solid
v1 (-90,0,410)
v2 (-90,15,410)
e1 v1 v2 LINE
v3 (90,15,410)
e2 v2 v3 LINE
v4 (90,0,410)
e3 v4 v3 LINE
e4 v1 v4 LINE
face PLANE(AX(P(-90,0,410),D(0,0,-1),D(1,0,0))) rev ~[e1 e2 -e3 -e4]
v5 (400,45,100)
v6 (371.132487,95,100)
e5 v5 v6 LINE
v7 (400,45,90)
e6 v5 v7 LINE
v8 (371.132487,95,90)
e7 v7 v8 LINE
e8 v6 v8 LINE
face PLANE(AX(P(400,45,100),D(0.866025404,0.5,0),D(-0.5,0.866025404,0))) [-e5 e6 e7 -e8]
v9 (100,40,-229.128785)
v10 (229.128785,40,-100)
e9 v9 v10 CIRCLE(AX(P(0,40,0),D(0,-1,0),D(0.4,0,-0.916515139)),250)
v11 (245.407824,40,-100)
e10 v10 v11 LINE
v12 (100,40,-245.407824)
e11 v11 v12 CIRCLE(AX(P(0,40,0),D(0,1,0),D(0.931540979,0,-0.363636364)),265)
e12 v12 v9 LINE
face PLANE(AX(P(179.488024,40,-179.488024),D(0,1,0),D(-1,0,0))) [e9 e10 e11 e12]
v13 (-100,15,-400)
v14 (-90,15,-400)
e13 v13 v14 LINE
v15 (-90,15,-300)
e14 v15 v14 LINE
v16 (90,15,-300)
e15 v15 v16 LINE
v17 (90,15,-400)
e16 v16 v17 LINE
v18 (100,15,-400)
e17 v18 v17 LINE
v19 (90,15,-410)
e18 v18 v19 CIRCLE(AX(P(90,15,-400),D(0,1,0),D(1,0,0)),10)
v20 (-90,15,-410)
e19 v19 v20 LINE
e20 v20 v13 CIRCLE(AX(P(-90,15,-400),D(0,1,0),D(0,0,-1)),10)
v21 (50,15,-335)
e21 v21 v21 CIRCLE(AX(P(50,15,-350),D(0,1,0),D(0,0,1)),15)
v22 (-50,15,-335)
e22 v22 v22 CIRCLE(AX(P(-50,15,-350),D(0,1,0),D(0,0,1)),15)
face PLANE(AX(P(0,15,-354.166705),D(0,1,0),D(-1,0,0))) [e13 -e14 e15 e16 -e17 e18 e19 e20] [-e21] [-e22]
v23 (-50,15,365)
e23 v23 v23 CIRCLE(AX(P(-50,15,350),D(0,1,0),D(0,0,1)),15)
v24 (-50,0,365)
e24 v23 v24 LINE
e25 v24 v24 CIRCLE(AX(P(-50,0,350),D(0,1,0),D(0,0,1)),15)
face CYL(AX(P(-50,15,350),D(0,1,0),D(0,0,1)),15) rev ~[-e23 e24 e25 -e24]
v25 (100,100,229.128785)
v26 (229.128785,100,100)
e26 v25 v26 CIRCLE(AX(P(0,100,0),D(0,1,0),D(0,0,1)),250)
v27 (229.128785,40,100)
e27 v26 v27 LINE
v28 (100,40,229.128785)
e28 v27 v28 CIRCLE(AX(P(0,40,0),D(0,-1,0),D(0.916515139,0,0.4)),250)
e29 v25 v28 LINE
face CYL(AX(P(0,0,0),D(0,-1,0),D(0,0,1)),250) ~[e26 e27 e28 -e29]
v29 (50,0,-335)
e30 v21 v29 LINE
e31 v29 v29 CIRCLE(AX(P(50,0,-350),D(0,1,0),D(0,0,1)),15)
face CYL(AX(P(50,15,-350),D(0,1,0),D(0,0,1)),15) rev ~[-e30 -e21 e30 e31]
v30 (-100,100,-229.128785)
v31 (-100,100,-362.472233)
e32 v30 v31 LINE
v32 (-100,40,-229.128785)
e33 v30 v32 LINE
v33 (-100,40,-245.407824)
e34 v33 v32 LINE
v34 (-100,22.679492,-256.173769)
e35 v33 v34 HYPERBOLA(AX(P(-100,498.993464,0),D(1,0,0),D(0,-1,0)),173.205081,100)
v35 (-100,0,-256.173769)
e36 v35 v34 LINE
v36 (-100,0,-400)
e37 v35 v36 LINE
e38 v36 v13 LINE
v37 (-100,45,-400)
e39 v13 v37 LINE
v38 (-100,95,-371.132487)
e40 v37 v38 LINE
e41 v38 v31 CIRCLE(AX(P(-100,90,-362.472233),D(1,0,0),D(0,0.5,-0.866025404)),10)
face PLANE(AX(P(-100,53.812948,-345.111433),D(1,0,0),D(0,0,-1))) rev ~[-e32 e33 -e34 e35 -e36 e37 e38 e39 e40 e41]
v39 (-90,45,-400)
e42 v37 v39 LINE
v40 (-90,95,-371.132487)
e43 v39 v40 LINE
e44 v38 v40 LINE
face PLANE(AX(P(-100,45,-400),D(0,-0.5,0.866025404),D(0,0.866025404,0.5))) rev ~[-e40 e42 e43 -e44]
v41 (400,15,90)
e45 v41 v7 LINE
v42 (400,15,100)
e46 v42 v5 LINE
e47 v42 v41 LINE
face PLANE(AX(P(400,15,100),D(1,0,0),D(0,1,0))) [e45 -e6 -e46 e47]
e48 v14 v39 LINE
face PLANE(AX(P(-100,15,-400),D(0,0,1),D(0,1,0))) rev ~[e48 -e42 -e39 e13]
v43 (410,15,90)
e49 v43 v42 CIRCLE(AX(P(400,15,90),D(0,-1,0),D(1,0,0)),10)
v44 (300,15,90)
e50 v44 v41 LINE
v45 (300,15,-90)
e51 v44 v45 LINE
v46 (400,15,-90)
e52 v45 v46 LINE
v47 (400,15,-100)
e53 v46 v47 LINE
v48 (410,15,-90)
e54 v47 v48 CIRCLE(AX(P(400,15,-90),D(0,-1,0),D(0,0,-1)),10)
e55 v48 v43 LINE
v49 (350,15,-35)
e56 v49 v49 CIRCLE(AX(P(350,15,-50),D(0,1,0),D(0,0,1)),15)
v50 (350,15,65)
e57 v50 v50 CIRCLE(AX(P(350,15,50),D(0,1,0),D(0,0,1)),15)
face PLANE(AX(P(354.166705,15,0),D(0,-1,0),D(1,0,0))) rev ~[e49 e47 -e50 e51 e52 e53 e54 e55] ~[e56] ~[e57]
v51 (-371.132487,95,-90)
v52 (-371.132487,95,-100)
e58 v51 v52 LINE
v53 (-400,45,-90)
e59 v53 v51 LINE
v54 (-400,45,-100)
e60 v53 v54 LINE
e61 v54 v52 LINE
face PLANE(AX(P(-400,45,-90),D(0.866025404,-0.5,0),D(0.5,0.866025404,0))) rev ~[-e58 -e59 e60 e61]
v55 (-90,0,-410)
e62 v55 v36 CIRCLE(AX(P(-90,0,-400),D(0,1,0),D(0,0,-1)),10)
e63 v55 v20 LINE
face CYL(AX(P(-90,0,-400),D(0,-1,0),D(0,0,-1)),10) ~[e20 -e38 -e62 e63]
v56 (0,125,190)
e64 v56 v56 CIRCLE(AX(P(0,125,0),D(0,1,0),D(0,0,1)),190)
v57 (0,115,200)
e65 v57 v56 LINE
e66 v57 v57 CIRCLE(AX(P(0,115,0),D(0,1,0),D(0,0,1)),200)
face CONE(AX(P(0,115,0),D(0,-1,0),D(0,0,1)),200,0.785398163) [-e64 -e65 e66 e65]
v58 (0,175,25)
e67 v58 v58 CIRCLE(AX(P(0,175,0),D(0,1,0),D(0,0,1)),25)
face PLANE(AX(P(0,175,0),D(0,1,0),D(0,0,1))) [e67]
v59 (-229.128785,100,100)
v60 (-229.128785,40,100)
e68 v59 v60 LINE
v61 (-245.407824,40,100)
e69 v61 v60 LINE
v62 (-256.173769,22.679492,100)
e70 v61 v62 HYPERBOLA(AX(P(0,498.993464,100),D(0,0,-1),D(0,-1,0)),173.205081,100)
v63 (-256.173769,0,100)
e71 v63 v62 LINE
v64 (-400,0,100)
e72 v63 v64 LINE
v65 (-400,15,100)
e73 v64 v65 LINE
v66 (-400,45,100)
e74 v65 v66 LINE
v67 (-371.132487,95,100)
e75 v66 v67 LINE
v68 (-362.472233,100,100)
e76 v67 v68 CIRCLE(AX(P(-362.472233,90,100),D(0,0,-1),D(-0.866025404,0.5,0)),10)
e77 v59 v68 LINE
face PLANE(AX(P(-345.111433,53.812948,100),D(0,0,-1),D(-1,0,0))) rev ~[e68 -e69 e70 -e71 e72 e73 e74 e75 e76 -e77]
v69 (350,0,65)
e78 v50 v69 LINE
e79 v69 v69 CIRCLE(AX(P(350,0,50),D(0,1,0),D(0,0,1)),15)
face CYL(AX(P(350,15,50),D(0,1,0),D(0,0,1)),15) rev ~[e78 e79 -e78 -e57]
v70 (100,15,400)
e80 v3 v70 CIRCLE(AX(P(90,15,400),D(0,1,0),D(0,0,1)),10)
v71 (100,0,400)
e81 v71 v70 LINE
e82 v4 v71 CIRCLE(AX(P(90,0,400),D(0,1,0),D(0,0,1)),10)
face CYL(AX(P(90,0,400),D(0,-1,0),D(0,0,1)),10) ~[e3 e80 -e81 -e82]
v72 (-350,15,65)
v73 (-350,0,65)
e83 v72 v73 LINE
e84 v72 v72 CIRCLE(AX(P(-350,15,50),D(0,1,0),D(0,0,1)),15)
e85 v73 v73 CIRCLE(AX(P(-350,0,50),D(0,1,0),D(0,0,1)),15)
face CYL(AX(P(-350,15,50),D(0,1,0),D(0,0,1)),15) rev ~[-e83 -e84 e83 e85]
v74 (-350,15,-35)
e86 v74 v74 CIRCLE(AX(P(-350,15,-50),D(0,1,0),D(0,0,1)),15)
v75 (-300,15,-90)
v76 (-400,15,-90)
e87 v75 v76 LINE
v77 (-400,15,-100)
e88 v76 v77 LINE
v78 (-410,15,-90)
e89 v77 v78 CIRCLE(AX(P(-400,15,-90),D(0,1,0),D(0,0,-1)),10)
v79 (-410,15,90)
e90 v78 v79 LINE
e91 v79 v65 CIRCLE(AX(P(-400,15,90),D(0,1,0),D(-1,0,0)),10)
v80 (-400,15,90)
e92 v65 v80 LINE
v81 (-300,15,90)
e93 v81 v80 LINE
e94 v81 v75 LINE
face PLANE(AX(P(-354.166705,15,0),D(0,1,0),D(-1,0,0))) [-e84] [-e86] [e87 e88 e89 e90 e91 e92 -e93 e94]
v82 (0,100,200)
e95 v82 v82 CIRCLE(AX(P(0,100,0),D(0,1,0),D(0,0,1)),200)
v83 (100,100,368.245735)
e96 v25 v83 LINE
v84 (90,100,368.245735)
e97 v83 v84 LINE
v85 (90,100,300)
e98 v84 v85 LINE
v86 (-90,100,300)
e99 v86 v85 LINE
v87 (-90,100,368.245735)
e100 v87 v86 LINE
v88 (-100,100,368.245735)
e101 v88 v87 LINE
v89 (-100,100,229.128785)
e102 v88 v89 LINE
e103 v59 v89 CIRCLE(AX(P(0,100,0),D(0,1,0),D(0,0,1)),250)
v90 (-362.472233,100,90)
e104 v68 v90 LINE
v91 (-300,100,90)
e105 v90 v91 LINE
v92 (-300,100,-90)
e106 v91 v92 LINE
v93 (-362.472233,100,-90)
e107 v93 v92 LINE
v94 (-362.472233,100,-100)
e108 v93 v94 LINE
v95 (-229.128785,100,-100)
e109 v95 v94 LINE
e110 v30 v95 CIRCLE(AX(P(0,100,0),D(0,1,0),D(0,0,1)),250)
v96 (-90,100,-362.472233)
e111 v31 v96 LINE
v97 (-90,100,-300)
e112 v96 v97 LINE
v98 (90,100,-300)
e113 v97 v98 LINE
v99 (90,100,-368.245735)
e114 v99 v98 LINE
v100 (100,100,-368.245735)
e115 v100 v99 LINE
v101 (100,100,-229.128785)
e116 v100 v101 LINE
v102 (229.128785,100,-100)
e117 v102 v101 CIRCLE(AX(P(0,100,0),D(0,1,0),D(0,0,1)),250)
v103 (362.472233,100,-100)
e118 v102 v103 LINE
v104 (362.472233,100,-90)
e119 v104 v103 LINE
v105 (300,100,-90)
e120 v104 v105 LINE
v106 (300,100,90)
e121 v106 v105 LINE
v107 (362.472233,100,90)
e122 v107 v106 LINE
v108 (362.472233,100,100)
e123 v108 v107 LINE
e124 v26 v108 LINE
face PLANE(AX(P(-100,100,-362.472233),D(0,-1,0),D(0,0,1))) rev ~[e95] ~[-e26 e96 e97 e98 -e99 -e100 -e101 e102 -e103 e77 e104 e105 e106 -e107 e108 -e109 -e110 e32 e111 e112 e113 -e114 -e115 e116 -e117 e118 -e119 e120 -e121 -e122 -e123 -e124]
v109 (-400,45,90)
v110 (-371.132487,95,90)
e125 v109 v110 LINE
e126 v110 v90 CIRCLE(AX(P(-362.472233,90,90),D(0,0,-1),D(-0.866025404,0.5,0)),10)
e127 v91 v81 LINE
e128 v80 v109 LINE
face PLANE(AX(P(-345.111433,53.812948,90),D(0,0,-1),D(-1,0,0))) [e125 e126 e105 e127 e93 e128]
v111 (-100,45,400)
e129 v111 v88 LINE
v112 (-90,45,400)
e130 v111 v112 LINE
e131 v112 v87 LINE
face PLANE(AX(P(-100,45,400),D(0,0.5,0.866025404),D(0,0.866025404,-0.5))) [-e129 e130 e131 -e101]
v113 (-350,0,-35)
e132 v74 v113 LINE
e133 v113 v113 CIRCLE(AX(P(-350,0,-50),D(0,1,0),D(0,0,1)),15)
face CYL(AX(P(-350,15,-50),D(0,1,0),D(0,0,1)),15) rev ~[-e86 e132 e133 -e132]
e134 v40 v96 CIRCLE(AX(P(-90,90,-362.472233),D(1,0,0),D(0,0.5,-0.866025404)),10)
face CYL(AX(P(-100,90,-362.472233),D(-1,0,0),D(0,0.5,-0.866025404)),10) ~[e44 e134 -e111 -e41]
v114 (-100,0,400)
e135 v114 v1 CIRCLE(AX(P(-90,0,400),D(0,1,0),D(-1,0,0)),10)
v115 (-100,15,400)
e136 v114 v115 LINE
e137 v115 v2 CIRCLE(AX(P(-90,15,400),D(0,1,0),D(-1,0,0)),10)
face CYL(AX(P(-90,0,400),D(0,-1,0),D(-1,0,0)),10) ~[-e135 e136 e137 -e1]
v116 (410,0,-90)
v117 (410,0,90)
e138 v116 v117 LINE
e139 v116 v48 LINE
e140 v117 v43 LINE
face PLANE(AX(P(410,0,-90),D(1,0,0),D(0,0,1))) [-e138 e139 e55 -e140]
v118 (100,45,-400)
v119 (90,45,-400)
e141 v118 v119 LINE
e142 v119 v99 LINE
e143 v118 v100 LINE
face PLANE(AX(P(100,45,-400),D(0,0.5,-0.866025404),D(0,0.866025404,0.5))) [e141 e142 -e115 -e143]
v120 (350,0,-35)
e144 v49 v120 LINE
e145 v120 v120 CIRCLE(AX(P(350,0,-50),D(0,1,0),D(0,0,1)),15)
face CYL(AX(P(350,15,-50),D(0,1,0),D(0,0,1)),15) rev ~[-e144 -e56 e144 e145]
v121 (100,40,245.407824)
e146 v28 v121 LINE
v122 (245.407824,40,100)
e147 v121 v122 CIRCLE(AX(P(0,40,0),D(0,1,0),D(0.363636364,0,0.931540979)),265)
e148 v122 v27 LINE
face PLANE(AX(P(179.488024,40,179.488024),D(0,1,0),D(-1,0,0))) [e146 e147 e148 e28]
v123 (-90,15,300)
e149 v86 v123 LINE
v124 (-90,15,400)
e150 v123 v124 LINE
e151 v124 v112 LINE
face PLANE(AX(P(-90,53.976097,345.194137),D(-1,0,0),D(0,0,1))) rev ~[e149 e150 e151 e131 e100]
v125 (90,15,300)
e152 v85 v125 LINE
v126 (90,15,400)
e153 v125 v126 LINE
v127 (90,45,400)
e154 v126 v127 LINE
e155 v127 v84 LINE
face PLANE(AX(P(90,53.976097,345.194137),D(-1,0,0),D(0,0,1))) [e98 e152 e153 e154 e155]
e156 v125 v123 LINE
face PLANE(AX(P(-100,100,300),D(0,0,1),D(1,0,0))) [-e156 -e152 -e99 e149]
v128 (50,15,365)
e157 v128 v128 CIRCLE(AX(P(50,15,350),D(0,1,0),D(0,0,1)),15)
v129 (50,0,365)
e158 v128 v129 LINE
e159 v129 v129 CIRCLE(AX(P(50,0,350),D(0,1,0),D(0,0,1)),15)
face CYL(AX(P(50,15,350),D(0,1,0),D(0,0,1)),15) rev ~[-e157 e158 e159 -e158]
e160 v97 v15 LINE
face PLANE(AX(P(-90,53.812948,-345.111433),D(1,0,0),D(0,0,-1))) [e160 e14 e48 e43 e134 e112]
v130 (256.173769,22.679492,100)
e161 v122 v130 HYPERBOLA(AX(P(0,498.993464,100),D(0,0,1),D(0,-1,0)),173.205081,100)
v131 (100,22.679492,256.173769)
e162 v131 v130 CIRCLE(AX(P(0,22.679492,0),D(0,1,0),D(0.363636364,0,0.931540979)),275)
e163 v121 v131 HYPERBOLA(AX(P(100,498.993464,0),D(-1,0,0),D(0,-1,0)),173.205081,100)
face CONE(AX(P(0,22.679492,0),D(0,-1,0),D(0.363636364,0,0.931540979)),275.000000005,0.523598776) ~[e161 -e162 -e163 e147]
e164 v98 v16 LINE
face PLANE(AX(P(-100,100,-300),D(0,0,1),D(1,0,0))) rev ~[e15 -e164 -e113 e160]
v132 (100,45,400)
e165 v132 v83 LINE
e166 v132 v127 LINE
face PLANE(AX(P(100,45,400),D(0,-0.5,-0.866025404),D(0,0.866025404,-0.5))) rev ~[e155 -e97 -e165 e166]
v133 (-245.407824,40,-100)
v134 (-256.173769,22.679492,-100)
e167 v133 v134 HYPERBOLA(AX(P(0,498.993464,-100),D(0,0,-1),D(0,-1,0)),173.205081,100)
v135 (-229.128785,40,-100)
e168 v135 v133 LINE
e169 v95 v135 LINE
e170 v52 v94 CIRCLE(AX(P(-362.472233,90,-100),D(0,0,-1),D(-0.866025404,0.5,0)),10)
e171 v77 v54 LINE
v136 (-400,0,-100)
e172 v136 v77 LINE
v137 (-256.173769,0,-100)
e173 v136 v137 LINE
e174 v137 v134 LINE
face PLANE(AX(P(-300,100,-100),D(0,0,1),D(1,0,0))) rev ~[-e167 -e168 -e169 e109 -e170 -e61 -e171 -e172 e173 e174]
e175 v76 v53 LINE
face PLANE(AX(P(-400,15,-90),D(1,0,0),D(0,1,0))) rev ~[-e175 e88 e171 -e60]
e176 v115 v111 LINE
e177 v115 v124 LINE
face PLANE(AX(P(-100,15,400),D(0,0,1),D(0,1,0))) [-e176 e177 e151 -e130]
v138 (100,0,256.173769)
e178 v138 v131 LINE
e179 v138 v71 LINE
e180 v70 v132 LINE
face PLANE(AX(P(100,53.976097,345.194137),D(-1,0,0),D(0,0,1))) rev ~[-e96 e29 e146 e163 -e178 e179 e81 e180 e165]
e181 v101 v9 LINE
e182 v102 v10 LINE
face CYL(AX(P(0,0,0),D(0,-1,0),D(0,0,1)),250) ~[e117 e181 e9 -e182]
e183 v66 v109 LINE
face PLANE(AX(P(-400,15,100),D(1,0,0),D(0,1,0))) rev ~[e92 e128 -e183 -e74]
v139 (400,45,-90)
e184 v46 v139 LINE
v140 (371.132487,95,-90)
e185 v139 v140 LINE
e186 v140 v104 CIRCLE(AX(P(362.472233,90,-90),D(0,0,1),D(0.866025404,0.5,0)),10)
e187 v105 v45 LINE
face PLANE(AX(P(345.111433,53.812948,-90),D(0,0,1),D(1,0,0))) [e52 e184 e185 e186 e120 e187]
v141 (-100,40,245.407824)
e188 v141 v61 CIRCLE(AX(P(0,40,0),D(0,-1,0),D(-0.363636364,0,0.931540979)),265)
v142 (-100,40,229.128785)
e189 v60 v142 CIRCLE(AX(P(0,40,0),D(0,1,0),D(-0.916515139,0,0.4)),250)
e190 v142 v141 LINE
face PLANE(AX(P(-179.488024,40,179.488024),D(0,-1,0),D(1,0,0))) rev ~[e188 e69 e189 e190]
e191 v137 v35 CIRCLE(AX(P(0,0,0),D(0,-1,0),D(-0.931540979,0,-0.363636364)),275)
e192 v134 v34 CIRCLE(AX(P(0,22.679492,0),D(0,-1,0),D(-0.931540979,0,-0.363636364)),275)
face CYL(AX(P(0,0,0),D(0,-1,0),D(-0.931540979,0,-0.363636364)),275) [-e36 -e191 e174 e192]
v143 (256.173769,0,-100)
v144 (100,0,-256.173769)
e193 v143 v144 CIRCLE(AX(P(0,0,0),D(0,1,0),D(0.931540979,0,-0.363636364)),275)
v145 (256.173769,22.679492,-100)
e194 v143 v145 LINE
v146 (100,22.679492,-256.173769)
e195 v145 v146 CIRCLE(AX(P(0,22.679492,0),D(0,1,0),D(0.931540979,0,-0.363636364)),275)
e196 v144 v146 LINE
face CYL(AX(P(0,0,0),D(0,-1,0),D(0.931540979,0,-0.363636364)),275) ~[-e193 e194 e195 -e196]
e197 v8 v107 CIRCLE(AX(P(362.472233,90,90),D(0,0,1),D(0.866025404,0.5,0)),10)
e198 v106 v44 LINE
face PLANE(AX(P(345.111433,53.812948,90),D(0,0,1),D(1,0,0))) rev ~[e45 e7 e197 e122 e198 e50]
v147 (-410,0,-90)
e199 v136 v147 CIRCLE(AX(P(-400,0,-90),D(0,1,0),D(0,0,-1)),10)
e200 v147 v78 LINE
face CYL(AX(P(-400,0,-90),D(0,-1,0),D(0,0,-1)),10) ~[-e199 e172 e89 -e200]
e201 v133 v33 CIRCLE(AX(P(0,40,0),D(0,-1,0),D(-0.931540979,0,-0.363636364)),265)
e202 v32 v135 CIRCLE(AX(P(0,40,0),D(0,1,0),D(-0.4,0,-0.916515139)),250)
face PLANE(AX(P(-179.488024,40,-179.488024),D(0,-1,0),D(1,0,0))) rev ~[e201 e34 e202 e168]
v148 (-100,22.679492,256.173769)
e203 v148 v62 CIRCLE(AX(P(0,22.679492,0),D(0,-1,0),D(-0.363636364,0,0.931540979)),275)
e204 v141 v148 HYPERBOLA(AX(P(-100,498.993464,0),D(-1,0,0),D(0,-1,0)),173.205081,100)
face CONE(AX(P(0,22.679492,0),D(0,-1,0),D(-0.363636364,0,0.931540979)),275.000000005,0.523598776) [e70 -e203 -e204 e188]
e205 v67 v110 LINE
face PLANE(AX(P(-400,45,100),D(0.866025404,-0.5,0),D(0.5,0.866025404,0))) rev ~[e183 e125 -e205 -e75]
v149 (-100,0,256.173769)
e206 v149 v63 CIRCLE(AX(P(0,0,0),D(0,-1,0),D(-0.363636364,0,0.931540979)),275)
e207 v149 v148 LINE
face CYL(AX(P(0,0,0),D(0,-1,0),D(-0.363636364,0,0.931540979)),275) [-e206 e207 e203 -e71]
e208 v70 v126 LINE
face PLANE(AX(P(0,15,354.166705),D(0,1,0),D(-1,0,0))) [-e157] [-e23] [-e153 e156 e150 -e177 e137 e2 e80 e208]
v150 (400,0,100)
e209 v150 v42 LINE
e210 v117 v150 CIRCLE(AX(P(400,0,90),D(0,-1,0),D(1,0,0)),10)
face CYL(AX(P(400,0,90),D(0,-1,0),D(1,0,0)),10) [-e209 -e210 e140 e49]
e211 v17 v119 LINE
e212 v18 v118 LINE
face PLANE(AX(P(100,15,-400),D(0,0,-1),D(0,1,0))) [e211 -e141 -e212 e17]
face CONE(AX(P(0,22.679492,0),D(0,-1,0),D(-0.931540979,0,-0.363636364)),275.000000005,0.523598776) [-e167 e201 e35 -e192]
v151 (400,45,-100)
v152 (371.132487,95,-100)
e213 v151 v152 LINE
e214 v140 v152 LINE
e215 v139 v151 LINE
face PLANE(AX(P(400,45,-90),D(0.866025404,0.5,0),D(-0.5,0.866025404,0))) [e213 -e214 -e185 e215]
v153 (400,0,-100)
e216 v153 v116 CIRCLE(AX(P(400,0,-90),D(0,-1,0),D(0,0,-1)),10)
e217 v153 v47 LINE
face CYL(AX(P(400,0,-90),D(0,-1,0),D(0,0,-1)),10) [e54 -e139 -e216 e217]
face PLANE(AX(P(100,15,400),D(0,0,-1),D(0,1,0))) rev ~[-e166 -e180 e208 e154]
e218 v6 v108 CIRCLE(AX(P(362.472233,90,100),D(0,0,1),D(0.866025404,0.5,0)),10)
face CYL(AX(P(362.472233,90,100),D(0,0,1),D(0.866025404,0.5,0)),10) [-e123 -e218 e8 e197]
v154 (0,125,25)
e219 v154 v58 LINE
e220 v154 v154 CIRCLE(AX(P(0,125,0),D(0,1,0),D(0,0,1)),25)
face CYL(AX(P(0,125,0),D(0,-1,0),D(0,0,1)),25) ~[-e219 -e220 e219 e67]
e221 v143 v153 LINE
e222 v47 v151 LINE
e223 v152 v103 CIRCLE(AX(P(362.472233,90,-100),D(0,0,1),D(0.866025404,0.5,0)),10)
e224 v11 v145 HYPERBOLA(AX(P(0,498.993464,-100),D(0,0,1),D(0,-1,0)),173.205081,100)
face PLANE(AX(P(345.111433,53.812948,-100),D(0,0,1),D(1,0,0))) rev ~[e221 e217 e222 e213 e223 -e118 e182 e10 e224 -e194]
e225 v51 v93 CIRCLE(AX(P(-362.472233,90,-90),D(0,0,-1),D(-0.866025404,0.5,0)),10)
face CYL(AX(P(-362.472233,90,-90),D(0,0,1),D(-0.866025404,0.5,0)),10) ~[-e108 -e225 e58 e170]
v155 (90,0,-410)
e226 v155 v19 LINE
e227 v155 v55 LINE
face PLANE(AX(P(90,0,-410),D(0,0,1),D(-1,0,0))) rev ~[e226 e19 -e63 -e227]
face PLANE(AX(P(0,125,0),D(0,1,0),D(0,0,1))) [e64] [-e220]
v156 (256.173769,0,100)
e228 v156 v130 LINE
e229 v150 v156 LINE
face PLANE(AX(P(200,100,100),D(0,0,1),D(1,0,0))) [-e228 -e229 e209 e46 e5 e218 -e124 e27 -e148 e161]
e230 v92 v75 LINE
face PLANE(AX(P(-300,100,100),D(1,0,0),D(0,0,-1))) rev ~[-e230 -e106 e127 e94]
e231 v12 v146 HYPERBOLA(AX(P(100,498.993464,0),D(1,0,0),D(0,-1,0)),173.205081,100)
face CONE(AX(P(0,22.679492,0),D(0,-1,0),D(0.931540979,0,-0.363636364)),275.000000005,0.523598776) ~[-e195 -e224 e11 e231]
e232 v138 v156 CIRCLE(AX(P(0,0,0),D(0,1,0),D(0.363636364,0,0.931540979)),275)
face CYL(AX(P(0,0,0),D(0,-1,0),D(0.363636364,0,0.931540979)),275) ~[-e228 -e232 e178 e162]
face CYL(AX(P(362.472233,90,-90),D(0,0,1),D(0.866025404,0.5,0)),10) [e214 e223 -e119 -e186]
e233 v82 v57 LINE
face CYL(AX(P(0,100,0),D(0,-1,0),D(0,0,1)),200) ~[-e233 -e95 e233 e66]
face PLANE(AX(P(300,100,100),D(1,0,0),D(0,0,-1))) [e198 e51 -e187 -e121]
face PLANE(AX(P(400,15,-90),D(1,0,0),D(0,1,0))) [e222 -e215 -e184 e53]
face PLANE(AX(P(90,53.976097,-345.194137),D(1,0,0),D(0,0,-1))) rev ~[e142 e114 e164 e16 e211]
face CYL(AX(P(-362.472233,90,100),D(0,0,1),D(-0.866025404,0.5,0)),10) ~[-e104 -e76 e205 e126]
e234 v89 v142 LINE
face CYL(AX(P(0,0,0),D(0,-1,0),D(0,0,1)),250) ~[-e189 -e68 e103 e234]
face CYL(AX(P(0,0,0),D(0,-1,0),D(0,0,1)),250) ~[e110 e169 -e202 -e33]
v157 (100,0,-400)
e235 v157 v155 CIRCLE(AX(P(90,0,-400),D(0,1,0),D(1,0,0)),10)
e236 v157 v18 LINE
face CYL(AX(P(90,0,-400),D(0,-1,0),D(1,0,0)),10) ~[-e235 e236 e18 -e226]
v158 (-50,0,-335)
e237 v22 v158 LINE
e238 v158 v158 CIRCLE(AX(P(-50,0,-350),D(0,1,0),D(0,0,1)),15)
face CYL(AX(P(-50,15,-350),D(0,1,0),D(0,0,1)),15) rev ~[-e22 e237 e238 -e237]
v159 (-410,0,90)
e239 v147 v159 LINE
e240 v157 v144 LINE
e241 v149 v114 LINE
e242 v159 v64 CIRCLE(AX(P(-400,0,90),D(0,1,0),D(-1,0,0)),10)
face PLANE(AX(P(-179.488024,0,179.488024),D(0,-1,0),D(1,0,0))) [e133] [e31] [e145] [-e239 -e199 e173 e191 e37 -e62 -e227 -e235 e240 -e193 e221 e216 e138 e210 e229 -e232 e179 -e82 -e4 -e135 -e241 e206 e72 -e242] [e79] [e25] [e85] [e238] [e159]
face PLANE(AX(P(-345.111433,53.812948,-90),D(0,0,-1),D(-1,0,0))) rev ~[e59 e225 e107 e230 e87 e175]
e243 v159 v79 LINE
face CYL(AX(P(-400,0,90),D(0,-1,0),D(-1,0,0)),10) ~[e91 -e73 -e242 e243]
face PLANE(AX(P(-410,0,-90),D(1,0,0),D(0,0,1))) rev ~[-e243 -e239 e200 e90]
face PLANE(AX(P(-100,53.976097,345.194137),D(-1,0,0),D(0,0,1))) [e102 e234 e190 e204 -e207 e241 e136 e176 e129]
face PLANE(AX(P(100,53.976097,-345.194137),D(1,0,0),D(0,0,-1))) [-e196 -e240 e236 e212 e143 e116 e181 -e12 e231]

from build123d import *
from OCP.BRepFilletAPI import BRepFilletAPI_MakeChamfer

# Parameters (mm, degrees)
SKETCH5_R            = 250
BOSS_EXTRUDE4_DEPTH  = 100
SKETCH6_W            = 200
SKETCH6_H            = 100
SKETCH6_W_2          = 100
SKETCH6_H_2          = 200
BOSS_EXTRUDE5_DEPTH  = 100
BOSS_EXTRUDE6_DEPTH  = 15
BOSS_EXTRUDE7_DEPTH  = 10
BOSS_EXTRUDE8_DEPTH  = 10
SKETCH18_R           = 15
CUT_EXTRUDE2_DEPTH   = 587.024743505
BOSS_EXTRUDE9_DEPTH  = 10
BOSS_EXTRUDE10_START = -10
BOSS_EXTRUDE10_DEPTH = 10
BOSS_EXTRUDE11_DEPTH = 10
BOSS_EXTRUDE12_DEPTH = 10
SKETCH24_R           = 200
BOSS_EXTRUDE13_DEPTH = 25
SKETCH25_R           = 25
BOSS_EXTRUDE14_DEPTH = 50
BOSS_EXTRUDE15_DEPTH = 40
CHAMFER1_SIZE        = 10
CHAMFER1_SIZE2       = 17.320508076
CHAMFER2_SIZE        = 10


with BuildPart() as part:
    # Sketch5 → Boss-Extrude4 (new body)
    with BuildSketch(Plane(origin=(0, 0, 0), x_dir=(1, 0, 0), z_dir=(0, 1, 0))):
        with Locations(Location((0, 0, 0), (0, 0, 270))):
            Circle(SKETCH5_R)
    extrude(amount=BOSS_EXTRUDE4_DEPTH)

    # Sketch6 → Boss-Extrude5 (add)
    with BuildSketch(Plane(origin=(0, 100, 0), x_dir=(1, 0, 0), z_dir=(0, 1, 0))):
        with Locations((0, -250)):
            Rectangle(SKETCH6_W, SKETCH6_H)
        with Locations((0, 250)):
            Rectangle(SKETCH6_W, SKETCH6_H)
        with Locations((250, 0)):
            Rectangle(SKETCH6_W_2, SKETCH6_H_2)
        with Locations((-250, 0)):
            Rectangle(SKETCH6_W_2, SKETCH6_H_2)
    extrude(amount=-BOSS_EXTRUDE5_DEPTH)

    # Sketch10 → Boss-Extrude6 (add)
    with BuildSketch(Plane.XZ):
        with BuildLine():
            Line((-100, 300), (-100, 400))
            ThreePointArc((-100, 400), (-97.071067812, 407.071067812), (-90, 410))
            Line((-90, 410), (90, 410))
            ThreePointArc((90, 410), (97.071067812, 407.071067812), (100, 400))
            Line((100, 400), (100, 300))
            Line((100, 300), (-100, 300))
        make_face()
        with BuildLine():
            Line((100, -310), (100, -400))
            ThreePointArc((100, -400), (97.071067812, -407.071067812), (90, -410))
            Line((90, -410), (-90, -410))
            ThreePointArc((-90, -410), (-97.071067812, -407.071067812), (-100, -400))
            Line((-100, -400), (-100, -300))
            Line((-100, -300), (90, -300))
            Line((90, -300), (100, -300))
            Line((100, -300), (100, -310))
        make_face()
        with BuildLine():
            Line((-300, -100), (-400, -100))
            ThreePointArc((-400, -100), (-407.071067812, -97.071067812), (-410, -90))
            Line((-410, -90), (-410, 90))
            ThreePointArc((-410, 90), (-407.071067812, 97.071067812), (-400, 100))
            Line((-400, 100), (-300, 100))
            Line((-300, 100), (-300, -100))
        make_face()
        with BuildLine():
            Line((300, -100), (400, -100))
            ThreePointArc((400, -100), (407.071067812, -97.071067812), (410, -90))
            Line((410, -90), (410, 90))
            ThreePointArc((410, 90), (407.071067812, 97.071067812), (400, 100))
            Line((400, 100), (300, 100))
            Line((300, 100), (300, -100))
        make_face()
    extrude(amount=-BOSS_EXTRUDE6_DEPTH)

    # Sketch12 → Boss-Extrude7 (add)
    with BuildSketch(Plane(origin=(100, 0, 0), x_dir=(0, 0, -1), z_dir=(1, 0, 0))):
        Polygon((-400, 15), (-400, 45), (-368.245735195, 100), (-300, 100), (-300, 15), align=None)
    extrude(amount=-BOSS_EXTRUDE7_DEPTH)

    # Sketch13 → Boss-Extrude8 (add)
    with BuildSketch(Plane.ZY.offset(100)):
        Polygon((300, 100), (300, 15), (400, 15), (400, 45), (368.245735195, 100), align=None)
    extrude(amount=-BOSS_EXTRUDE8_DEPTH)

    # Sketch18 → Cut-Extrude2 (cut, through all)
    with BuildSketch(Plane(origin=(0, 15, 0), x_dir=(1, 0, 0), z_dir=(0, 1, 0))):
        with Locations(Location((-50, -350, 0), (0, 0, 270))):
            Circle(SKETCH18_R)
        with Locations(Location((50, -350, 0), (0, 0, 270))):
            Circle(SKETCH18_R)
        with Locations(Location((-350, 50, 0), (0, 0, 270))):
            Circle(SKETCH18_R)
        with Locations(Location((-350, -50, 0), (0, 0, 270))):
            Circle(SKETCH18_R)
        with Locations(Location((-50, 350, 0), (0, 0, 270))):
            Circle(SKETCH18_R)
        with Locations(Location((50, 350, 0), (0, 0, 270))):
            Circle(SKETCH18_R)
        with Locations(Location((350, 50, 0), (0, 0, 270))):
            Circle(SKETCH18_R)
        with Locations(Location((350, -50, 0), (0, 0, 270))):
            Circle(SKETCH18_R)
    extrude(amount=-CUT_EXTRUDE2_DEPTH, mode=Mode.SUBTRACT)

    # Sketch19 → Boss-Extrude9 (add)
    with BuildSketch(Plane.XY.offset(100)):
        with BuildLine():
            Line((-400, 15), (-400, 45))
            Line((-400, 45), (-371.132486541, 95))
            ThreePointArc((-371.132486541, 95), (-367.472232503, 98.660254038), (-362.472232503, 100))
            Line((-362.472232503, 100), (-300, 100))
            Line((-300, 100), (-300, 15))
            Line((-300, 15), (-400, 15))
        make_face()
        with BuildLine():
            Line((400, 15), (400, 45))
            Line((400, 45), (371.132486541, 95))
            ThreePointArc((371.132486541, 95), (367.472232503, 98.660254038), (362.472232503, 100))
            Line((362.472232503, 100), (300, 100))
            Line((300, 100), (300, 15))
            Line((300, 15), (400, 15))
        make_face()
    extrude(amount=-BOSS_EXTRUDE9_DEPTH)

    # Sketch20 → Boss-Extrude10 (add)
    with BuildSketch(Plane(origin=(0, 0, -100), x_dir=(-1, 0, 0), z_dir=(0, 0, -1)).offset(BOSS_EXTRUDE10_START)):
        with BuildLine():
            Line((-400, 15), (-400, 45))
            Line((-400, 45), (-371.132486541, 95))
            ThreePointArc((-371.132486541, 95), (-367.472232503, 98.660254038), (-362.472232503, 100))
            Line((-362.472232503, 100), (-300, 100))
            Line((-300, 100), (-300, 15))
            Line((-300, 15), (-400, 15))
        make_face()
        with BuildLine():
            Line((400, 15), (400, 45))
            Line((400, 45), (371.132486541, 95))
            ThreePointArc((371.132486541, 95), (367.472232503, 98.660254038), (362.472232503, 100))
            Line((362.472232503, 100), (300, 100))
            Line((300, 100), (300, 15))
            Line((300, 15), (400, 15))
        make_face()
    extrude(amount=BOSS_EXTRUDE10_DEPTH)

    # Sketch22 → Boss-Extrude11 (add)
    with BuildSketch(Plane(origin=(100, 0, 0), x_dir=(0, 0, -1), z_dir=(1, 0, 0))):
        Polygon((400, 15), (400, 45), (368.245735195, 100), (300, 100), (300, 15), align=None)
    extrude(amount=-BOSS_EXTRUDE11_DEPTH)

    # Sketch23 → Boss-Extrude12 (add)
    with BuildSketch(Plane.ZY.offset(100)):
        with BuildLine():
            Line((-400, 15), (-400, 45))
            Line((-400, 45), (-371.132486541, 95))
            ThreePointArc((-371.132486541, 95), (-367.472232503, 98.660254038), (-362.472232503, 100))
            Line((-362.472232503, 100), (-300, 100))
            Line((-300, 100), (-300, 15))
            Line((-300, 15), (-400, 15))
        make_face()
    extrude(amount=-BOSS_EXTRUDE12_DEPTH)

    # Sketch24 → Boss-Extrude13 (add)
    with BuildSketch(Plane(origin=(0, 100, 0), x_dir=(1, 0, 0), z_dir=(0, 1, 0))):
        with Locations(Location((0, 0, 0), (0, 0, 270))):
            Circle(SKETCH24_R)
    extrude(amount=BOSS_EXTRUDE13_DEPTH)

    # Sketch25 → Boss-Extrude14 (add)
    with BuildSketch(Plane(origin=(0, 125, 0), x_dir=(1, 0, 0), z_dir=(0, 1, 0))):
        with Locations(Location((0, 0, 0), (0, 0, 270))):
            Circle(SKETCH25_R)
    extrude(amount=BOSS_EXTRUDE14_DEPTH)

    # Sketch27 → Boss-Extrude15 (add)
    with BuildSketch(Plane.XZ):
        with BuildLine():
            Line((-256.173769149, 100), (-229.128784748, 100))
            ThreePointArc((-229.128784748, 100), (-176.776695297, 176.776695297), (-100, 229.128784748))
            Line((-100, 229.128784748), (-100, 256.173769149))
            ThreePointArc((-100, 256.173769149), (-194.454364826, 194.454364826), (-256.173769149, 100))
        make_face()
        with BuildLine():
            Line((100, 229.128784748), (100, 256.173769149))
            ThreePointArc((100, 256.173769149), (194.454364826, 194.454364826), (256.173769149, 100))
            Line((256.173769149, 100), (229.128784748, 100))
            ThreePointArc((229.128784748, 100), (176.776695297, 176.776695297), (100, 229.128784748))
        make_face()
        with BuildLine():
            Line((100, -256.173769149), (100, -229.128784748))
            ThreePointArc((100, -229.128784748), (176.776695297, -176.776695297), (229.128784748, -100))
            Line((229.128784748, -100), (256.173769149, -100))
            ThreePointArc((256.173769149, -100), (194.454364826, -194.454364826), (100, -256.173769149))
        make_face()
        with BuildLine():
            Line((-100, -256.173769149), (-100, -229.128784748))
            ThreePointArc((-100, -229.128784748), (-176.776695297, -176.776695297), (-229.128784748, -100))
            Line((-229.128784748, -100), (-256.173769149, -100))
            ThreePointArc((-256.173769149, -100), (-194.454364826, -194.454364826), (-100, -256.173769149))
        make_face()
    extrude(amount=-BOSS_EXTRUDE15_DEPTH)

    # Chamfer1: one chamfer whose edges measure the first distance from different faces: ONE call of the kernel's chamfer builder (chamfer() names one face for all edges)
    chamfer1_edges_1 = [part.edges().sort_by_distance(p)[0] for p in [
        (194.454364826, 40, -194.454364826),
    ]]
    chamfer1_side_1 = [part.faces().sort_by_distance(p)[0] for p in [
        (181.097571565, 40, -181.097571565),
    ]]
    chamfer1_edges_2 = [part.edges().sort_by_distance(p)[0] for p in [
        (194.454364826, 40, 194.454364826),
    ]]
    chamfer1_side_2 = [part.faces().sort_by_distance(p)[0] for p in [
        (181.097571565, 40, 181.097571565),
    ]]
    chamfer1_edges_3 = [part.edges().sort_by_distance(p)[0] for p in [
        (-194.454364826, 40, 194.454364826),
    ]]
    chamfer1_side_3 = [part.faces().sort_by_distance(p)[0] for p in [
        (-181.097571565, 40, 181.097571565),
    ]]
    chamfer1_edges_4 = [part.edges().sort_by_distance(p)[0] for p in [
        (-194.454364826, 40, -194.454364826),
    ]]
    chamfer1_side_4 = [part.faces().sort_by_distance(p)[0] for p in [
        (-181.097571565, 40, -181.097571565),
    ]]
    chamfer1 = BRepFilletAPI_MakeChamfer(part.part.solid().wrapped)
    for e in chamfer1_edges_1:
        chamfer1.Add(CHAMFER1_SIZE, CHAMFER1_SIZE2, e.wrapped, chamfer1_side_1[0].wrapped)  # the first distance lies on this face
    for e in chamfer1_edges_2:
        chamfer1.Add(CHAMFER1_SIZE, CHAMFER1_SIZE2, e.wrapped, chamfer1_side_2[0].wrapped)  # the first distance lies on this face
    for e in chamfer1_edges_3:
        chamfer1.Add(CHAMFER1_SIZE, CHAMFER1_SIZE2, e.wrapped, chamfer1_side_3[0].wrapped)  # the first distance lies on this face
    for e in chamfer1_edges_4:
        chamfer1.Add(CHAMFER1_SIZE, CHAMFER1_SIZE2, e.wrapped, chamfer1_side_4[0].wrapped)  # the first distance lies on this face
    add(Compound.cast(chamfer1.Shape()), mode=Mode.REPLACE)

    # Chamfer2
    chamfer2_edges = [part.edges().sort_by_distance(p)[0] for p in [
        (0, 125, -200),
    ]]
    chamfer(chamfer2_edges, length=CHAMFER2_SIZE)


solid = part.part
